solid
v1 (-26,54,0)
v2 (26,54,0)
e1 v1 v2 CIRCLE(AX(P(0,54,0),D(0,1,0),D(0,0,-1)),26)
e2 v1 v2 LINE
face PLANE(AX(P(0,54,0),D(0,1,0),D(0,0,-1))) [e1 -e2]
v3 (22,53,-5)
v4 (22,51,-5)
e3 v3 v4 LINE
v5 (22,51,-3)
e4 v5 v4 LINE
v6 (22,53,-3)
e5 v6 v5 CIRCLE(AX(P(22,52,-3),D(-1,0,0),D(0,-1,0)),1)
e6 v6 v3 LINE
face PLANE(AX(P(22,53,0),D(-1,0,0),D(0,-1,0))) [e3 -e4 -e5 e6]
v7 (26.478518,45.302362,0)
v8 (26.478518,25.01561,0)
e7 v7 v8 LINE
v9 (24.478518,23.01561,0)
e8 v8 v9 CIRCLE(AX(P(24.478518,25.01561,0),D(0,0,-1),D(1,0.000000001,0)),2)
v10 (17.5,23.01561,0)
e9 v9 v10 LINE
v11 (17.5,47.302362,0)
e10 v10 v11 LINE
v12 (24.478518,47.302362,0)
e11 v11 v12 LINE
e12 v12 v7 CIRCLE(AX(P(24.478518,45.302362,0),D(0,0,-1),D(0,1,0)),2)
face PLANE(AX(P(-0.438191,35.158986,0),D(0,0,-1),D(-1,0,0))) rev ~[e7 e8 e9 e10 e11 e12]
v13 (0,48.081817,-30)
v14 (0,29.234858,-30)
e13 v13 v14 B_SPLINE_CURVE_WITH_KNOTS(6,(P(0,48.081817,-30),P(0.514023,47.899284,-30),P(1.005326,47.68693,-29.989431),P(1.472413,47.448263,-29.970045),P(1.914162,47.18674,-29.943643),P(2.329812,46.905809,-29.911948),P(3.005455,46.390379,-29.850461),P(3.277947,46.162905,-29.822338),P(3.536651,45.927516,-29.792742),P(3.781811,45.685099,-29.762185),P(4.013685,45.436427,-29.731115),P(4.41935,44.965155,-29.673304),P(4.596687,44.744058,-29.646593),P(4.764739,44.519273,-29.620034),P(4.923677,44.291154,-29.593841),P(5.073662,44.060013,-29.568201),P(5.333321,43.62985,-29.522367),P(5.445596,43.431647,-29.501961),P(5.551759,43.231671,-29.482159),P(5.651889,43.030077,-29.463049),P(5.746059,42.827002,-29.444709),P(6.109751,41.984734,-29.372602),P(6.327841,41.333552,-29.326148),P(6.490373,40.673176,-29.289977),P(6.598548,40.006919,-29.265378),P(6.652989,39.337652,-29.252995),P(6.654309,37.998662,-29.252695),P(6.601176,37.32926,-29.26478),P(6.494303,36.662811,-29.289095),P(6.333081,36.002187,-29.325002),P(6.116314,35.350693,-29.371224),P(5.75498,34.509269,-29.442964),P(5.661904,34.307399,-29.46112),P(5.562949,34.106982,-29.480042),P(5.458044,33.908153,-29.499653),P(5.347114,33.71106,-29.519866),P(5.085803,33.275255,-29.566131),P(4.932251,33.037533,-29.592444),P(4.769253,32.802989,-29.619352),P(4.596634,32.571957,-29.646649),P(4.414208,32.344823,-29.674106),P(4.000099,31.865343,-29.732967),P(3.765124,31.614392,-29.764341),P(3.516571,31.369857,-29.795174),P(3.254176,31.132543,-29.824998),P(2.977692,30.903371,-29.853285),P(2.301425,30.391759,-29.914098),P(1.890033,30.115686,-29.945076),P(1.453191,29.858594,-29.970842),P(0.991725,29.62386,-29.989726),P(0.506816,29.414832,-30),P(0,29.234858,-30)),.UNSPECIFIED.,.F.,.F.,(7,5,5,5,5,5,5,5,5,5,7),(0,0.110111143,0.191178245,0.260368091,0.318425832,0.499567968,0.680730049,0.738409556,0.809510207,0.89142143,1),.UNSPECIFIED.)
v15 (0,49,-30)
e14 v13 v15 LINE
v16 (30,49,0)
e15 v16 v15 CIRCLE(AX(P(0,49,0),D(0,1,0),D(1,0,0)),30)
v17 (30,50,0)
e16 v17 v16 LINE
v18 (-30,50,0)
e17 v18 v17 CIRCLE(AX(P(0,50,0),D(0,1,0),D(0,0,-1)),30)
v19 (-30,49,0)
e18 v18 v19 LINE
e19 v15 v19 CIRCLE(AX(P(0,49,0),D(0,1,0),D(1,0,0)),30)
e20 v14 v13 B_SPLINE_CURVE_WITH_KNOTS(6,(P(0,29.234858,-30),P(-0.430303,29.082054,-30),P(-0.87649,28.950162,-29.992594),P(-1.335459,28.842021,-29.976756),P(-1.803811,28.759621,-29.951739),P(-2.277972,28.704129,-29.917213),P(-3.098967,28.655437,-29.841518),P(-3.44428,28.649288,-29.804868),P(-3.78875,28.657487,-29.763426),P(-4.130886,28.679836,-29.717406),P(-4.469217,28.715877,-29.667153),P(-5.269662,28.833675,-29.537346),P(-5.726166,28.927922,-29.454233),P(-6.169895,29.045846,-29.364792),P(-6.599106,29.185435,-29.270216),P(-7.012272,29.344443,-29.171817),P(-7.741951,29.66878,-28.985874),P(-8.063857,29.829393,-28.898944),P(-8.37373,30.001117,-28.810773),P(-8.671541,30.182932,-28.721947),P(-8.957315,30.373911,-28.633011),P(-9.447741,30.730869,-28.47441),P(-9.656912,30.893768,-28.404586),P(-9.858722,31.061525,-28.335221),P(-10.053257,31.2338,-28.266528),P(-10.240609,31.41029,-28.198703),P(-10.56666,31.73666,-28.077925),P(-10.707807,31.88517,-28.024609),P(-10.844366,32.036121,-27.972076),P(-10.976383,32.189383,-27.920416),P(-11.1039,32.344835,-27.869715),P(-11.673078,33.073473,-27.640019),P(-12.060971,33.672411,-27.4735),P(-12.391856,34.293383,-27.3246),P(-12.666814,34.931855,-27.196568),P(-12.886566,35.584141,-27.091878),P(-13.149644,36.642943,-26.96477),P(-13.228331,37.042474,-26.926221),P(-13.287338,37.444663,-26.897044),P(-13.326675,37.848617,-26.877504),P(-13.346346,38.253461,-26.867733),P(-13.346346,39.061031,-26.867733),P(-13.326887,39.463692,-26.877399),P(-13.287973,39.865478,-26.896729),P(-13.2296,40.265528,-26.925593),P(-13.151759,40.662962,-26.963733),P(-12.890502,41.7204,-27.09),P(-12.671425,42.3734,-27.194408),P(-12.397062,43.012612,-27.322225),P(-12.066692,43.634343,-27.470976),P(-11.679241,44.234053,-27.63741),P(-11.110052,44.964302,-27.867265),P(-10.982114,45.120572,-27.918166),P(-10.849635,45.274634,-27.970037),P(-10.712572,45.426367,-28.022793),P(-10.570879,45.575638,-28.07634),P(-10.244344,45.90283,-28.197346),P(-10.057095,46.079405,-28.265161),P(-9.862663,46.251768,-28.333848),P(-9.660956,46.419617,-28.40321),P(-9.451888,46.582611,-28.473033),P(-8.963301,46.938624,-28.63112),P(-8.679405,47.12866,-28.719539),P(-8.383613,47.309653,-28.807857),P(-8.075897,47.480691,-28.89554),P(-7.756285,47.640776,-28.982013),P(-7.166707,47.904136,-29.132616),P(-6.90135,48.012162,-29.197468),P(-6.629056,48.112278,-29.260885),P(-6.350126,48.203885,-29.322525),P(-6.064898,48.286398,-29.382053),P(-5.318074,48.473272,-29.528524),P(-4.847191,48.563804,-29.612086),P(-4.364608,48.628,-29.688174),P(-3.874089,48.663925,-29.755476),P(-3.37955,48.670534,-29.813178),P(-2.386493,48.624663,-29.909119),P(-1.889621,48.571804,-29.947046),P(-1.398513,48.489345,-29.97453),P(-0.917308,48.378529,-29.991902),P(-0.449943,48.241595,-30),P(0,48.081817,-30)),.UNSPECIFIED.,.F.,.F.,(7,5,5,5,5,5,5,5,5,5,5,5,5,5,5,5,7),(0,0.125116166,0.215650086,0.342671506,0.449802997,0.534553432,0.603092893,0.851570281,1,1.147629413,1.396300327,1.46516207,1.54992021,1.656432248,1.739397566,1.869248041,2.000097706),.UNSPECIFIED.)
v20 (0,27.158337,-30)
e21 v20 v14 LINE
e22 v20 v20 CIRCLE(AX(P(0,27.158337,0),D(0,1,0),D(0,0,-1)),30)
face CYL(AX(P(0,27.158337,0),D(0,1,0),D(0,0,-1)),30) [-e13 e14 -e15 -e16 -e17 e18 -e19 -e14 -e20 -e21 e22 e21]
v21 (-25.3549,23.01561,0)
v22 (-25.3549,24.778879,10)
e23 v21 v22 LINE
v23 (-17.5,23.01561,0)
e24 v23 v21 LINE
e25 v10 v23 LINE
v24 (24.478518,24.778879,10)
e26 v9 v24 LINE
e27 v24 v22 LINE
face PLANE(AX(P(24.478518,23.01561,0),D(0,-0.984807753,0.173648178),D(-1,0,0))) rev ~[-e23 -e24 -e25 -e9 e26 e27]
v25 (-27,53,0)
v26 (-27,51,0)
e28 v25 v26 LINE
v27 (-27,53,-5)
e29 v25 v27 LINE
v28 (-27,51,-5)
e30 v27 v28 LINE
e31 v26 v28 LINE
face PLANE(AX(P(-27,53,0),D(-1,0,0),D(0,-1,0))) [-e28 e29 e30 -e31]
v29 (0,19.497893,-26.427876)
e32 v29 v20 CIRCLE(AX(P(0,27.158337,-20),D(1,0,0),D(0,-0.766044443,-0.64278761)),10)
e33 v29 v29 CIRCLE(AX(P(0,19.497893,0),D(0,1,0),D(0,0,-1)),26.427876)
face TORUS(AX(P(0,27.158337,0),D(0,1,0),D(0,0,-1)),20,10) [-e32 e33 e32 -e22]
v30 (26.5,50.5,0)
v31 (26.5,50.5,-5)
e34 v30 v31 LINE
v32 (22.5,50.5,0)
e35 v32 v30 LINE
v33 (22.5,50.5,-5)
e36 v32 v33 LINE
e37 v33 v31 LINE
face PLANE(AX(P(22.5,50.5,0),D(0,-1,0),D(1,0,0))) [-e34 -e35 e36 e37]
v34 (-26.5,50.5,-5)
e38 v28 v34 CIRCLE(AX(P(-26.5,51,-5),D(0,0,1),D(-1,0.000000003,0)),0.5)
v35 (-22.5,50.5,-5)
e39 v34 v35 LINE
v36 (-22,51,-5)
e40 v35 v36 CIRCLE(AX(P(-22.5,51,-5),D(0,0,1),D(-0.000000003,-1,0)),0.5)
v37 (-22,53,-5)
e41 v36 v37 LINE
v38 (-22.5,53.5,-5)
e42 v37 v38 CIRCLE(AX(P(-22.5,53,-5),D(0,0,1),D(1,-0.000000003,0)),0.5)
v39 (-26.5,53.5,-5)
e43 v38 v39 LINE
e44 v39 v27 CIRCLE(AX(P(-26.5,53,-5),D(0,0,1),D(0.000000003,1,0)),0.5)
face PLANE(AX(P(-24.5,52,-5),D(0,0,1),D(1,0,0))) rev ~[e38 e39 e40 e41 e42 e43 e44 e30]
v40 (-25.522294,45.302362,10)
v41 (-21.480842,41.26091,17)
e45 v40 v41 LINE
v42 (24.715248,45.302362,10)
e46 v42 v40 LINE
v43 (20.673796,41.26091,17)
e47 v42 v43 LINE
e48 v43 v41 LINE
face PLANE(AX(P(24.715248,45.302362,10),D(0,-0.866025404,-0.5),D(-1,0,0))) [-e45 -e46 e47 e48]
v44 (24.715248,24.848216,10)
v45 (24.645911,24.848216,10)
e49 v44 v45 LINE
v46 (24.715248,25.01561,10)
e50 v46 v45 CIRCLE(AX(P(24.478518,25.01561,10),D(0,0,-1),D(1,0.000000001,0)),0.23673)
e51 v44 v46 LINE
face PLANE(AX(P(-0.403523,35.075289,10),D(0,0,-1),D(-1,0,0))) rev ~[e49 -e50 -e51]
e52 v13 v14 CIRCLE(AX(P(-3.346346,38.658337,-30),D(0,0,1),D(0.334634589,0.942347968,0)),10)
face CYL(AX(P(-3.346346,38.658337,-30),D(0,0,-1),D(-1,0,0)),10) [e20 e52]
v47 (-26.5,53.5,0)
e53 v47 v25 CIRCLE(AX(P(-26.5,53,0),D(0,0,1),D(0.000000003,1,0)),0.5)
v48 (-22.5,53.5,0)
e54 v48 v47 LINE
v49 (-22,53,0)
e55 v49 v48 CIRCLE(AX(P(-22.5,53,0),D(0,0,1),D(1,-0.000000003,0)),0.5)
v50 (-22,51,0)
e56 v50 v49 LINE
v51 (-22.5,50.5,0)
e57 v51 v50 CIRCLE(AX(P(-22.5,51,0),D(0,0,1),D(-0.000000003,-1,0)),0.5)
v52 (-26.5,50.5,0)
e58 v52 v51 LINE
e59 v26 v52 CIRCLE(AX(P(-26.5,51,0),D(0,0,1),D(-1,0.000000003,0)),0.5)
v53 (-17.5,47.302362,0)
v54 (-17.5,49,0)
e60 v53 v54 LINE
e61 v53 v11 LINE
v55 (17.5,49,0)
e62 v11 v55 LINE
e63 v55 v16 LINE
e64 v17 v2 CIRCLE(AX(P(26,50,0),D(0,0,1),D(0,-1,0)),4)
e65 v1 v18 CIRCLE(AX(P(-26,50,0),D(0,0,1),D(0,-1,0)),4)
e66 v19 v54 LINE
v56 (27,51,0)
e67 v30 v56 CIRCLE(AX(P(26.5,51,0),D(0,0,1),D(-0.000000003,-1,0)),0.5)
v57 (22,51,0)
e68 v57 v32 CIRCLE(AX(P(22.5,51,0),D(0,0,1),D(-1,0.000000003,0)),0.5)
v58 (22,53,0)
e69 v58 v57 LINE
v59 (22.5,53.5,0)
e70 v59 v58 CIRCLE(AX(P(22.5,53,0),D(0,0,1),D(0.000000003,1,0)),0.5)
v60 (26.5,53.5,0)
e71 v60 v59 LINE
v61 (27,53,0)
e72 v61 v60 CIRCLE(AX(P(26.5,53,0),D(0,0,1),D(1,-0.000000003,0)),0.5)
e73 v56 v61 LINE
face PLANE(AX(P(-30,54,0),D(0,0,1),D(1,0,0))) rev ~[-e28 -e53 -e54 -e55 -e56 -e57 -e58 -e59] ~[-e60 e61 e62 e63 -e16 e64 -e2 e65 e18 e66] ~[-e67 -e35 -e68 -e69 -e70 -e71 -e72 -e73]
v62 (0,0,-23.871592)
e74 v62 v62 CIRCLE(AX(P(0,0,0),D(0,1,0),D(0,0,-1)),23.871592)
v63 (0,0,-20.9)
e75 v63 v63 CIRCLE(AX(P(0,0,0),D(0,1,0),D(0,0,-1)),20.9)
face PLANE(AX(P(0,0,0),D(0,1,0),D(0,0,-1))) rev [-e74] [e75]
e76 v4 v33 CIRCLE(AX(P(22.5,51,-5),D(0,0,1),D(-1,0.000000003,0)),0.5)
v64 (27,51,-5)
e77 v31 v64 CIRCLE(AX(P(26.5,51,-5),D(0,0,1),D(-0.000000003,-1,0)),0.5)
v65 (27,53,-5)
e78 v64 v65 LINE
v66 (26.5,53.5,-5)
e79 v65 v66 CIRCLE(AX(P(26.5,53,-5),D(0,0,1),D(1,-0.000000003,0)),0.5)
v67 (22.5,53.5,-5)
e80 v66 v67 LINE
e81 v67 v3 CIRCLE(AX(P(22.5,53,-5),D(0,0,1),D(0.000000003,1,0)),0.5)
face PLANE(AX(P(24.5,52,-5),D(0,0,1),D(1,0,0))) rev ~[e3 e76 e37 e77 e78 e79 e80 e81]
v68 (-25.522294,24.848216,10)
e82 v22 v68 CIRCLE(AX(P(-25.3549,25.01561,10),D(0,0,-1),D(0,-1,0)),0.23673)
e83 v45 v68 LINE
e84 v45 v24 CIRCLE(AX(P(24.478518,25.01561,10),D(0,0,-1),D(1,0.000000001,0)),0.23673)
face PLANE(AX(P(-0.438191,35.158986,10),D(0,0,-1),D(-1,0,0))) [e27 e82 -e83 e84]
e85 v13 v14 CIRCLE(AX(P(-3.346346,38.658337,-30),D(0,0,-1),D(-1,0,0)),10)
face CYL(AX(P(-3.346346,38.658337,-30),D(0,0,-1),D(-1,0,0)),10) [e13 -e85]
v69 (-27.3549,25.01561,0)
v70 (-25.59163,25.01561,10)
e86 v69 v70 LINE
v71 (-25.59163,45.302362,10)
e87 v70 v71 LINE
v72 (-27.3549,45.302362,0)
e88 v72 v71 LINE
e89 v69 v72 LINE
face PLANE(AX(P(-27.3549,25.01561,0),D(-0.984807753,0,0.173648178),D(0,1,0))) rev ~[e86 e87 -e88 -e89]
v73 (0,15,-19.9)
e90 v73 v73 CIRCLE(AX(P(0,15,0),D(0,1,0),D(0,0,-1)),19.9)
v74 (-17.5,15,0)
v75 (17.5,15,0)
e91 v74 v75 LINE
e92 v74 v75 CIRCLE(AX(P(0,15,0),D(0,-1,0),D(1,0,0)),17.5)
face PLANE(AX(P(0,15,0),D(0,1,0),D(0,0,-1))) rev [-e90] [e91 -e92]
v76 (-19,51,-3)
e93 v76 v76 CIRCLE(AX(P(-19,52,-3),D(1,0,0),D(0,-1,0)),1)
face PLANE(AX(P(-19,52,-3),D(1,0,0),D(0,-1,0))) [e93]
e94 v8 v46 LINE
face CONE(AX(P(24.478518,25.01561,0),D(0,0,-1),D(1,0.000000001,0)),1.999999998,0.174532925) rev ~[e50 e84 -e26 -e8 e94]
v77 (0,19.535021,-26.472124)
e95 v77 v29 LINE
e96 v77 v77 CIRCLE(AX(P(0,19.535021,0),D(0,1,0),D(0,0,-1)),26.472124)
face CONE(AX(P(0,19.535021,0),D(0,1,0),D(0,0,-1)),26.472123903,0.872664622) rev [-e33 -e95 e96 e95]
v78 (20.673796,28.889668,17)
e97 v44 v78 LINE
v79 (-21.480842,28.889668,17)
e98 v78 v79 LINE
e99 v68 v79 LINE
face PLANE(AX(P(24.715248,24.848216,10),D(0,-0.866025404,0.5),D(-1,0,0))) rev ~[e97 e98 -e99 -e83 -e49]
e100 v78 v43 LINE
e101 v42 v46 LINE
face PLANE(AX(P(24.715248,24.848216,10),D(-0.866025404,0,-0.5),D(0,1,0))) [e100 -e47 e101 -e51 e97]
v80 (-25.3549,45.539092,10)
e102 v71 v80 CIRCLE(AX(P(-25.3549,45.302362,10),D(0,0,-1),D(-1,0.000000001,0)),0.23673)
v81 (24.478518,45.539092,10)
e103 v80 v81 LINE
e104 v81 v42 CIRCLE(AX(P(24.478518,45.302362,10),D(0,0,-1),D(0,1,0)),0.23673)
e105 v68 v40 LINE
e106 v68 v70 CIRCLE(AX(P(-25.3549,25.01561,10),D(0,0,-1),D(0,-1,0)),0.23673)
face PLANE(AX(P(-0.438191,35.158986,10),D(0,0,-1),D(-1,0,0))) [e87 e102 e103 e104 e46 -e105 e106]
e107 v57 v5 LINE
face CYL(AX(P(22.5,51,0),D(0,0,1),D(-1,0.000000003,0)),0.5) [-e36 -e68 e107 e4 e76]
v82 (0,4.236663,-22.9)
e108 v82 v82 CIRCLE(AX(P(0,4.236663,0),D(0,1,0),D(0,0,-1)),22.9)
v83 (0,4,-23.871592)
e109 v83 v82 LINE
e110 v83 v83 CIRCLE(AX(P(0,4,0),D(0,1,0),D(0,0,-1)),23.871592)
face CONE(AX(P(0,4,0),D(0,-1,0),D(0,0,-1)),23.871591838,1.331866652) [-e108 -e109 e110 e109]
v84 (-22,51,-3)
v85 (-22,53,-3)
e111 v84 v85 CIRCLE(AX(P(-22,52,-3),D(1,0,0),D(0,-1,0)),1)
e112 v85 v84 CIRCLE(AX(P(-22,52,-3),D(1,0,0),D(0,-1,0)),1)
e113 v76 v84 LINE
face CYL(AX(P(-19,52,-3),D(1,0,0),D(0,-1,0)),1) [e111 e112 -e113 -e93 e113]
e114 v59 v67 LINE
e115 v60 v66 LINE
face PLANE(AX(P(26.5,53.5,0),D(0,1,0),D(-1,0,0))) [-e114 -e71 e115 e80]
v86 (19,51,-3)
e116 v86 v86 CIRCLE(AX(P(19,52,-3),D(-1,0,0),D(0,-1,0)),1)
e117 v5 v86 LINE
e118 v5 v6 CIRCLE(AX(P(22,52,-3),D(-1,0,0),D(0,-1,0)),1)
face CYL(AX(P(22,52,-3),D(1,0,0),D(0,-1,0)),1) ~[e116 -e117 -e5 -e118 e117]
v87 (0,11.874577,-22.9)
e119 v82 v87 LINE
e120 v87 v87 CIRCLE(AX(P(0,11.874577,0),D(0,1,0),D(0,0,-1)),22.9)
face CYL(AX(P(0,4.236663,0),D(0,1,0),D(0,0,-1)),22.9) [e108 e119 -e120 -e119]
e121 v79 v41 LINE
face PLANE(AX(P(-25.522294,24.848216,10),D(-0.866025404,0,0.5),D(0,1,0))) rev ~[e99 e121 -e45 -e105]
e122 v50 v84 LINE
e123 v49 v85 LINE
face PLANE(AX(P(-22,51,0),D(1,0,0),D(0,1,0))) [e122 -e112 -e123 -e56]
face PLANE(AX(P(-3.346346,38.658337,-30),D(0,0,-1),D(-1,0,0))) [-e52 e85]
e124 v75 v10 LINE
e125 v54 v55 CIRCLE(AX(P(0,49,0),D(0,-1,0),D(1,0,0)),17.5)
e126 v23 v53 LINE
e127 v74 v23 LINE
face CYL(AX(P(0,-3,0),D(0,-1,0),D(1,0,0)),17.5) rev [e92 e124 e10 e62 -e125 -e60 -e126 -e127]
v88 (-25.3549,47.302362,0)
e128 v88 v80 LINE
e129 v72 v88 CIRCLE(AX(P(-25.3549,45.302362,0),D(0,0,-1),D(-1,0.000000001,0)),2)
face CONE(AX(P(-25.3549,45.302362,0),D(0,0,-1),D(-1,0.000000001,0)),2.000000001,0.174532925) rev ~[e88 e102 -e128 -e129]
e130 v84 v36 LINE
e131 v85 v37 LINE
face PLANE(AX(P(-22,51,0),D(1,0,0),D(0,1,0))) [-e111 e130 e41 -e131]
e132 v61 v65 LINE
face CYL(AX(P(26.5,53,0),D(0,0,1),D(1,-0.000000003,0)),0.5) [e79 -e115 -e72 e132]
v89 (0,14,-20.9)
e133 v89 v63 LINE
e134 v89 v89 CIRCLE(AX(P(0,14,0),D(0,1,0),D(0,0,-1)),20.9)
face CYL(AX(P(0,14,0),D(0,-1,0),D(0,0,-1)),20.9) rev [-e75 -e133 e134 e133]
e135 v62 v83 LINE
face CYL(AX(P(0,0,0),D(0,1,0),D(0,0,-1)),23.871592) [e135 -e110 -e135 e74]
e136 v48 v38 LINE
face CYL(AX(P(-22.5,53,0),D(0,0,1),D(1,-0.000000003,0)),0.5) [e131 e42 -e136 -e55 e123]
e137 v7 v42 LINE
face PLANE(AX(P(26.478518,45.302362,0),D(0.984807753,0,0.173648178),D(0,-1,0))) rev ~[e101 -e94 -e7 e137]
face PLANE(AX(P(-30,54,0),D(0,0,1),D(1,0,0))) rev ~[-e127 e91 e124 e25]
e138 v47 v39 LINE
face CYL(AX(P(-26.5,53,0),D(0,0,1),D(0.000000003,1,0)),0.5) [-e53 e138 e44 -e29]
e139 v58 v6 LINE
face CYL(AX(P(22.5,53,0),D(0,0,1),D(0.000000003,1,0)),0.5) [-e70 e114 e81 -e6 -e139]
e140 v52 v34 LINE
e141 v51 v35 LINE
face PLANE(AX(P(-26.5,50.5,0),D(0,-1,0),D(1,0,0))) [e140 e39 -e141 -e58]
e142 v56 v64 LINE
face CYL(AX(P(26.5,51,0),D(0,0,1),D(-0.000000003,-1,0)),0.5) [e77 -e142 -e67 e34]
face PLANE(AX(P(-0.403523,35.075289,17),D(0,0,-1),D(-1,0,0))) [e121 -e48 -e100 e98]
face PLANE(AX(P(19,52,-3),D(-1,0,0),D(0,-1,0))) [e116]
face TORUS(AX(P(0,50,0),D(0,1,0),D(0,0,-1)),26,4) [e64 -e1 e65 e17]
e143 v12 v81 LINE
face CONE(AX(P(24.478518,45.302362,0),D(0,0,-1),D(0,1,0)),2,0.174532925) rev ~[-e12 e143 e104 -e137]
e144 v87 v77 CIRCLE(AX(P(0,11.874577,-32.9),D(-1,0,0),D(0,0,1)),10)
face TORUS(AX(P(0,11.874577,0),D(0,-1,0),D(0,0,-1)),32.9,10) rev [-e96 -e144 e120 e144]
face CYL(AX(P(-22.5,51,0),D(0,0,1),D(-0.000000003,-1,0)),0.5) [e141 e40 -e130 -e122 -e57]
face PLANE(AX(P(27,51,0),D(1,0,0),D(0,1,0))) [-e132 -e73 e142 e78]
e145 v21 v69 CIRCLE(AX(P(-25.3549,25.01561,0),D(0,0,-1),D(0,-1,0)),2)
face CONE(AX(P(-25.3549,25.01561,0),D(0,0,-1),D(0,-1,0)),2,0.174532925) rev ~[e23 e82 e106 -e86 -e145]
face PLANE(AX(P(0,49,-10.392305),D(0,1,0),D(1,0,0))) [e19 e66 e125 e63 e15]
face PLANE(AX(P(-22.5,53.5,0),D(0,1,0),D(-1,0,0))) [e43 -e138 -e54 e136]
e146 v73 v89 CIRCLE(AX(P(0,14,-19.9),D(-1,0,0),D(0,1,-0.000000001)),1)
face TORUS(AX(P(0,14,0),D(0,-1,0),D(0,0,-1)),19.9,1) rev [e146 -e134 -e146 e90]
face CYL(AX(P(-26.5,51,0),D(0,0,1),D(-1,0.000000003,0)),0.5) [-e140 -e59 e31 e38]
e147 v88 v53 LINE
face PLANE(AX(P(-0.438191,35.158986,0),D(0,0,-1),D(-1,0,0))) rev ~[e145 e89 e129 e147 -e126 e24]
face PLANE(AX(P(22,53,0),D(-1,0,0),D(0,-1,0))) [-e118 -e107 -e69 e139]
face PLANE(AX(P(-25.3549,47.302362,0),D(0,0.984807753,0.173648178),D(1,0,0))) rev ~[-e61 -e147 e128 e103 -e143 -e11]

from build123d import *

# Parameters (mm, degrees)
SKETCH10_R              = 10
BOSS_EXTRUDE1_DEPTH     = 5
CUT_EXTRUDE3_DEPTH      = 45
CUT_EXTRUDE3_DEPTH_BACK = 20
CUT_EXTRUDE5_DEPTH      = 5
BOSS_EXTRUDE2_DEPTH     = 5
SKETCH14_R              = 1
BOSS_EXTRUDE3_DEPTH     = 3
BOSS_EXTRUDE4_START     = 3
SKETCH15_R              = 1
BOSS_EXTRUDE4_DEPTH     = 3
CUT_EXTRUDE6_DEPTH      = 10
CUT_EXTRUDE6_DRAFT      = -10
SKETCH18_W              = 50.237541655
SKETCH18_H              = 20.454146011
CUT_EXTRUDE7_DEPTH      = 7
CUT_EXTRUDE7_DRAFT      = -30


with BuildPart() as part:
    # Sketch1 → Revolve1 (revolve)
    with BuildSketch(Plane.XY, mode=Mode.PRIVATE) as revolve1_sk:
        with BuildLine():
            Line((20.9, 0), (23.871591838, 0))
            Line((23.871591838, 0), (23.871591838, 4))
            Line((23.871591838, 4), (22.9, 4.236662843))
            Line((22.9, 4.236662843), (22.9, 11.874576818))
            ThreePointArc((22.9, 11.874576818), (23.83692213, 16.100759435), (26.472123903, 19.535021249))
            Line((26.472123903, 19.535021249), (26.427876097, 19.497892931))
            ThreePointArc((26.427876097, 19.497892931), (29.06307787, 22.932154745), (30, 27.158337362))
            Line((30, 27.158337362), (30, 50))
            ThreePointArc((30, 50), (28.828427125, 52.828427125), (26, 54))
            Line((26, 54), (0, 54))
            Line((0, 54), (0, 15))
            Line((0, 15), (19.9, 15))
            ThreePointArc((19.9, 15), (20.607106781, 14.707106781), (20.9, 14))
            Line((20.9, 14), (20.9, 0))
        make_face()
    revolve(revolve1_sk.sketch.rotate(Axis((0, 0, 0), (0, 1, 0)), 90), axis=Axis((0, 0, 0), (0, 1, 0)))

    # Sketch10 → Boss-Extrude1 (add)
    with BuildSketch(Plane(origin=(0, 0, -30), x_dir=(-1, 0, 0), z_dir=(0, 0, -1))):
        with Locations((3.346345887, 38.658337362)):
            Circle(SKETCH10_R)
    extrude(amount=-BOSS_EXTRUDE1_DEPTH)

    # Sketch11 → Cut-Extrude3 (cut, two sides: drawn at the far end of the back side and taken through both)
    with BuildSketch(Plane(origin=(0, 17, 0), x_dir=(1, 0, 0), z_dir=(0, 1, 0)).offset(-CUT_EXTRUDE3_DEPTH_BACK)):
        with BuildLine():
            Line((-17.5, 0), (17.5, 0))
            ThreePointArc((17.5, 0), (0, 17.5), (-17.5, 0))
        make_face()
    extrude(amount=CUT_EXTRUDE3_DEPTH + CUT_EXTRUDE3_DEPTH_BACK, mode=Mode.SUBTRACT)

    # Sketch9 → Cut-Extrude5 (cut)
    with BuildSketch(Plane(origin=(0, 54, 0), x_dir=(1, 0, 0), z_dir=(0, 1, 0))):
        with BuildLine():
            Line((-30, 0), (30, 0))
            ThreePointArc((30, 0), (0, 30), (-30, 0))
        make_face()
    extrude(amount=-CUT_EXTRUDE5_DEPTH, mode=Mode.SUBTRACT)

    # Sketch13 → Boss-Extrude2 (add)
    with BuildSketch(Plane(origin=(0, 0, 0), x_dir=(-1, 0, 0), z_dir=(0, 0, -1))):
        with BuildLine():
            Line((22.5, 53.5), (26.5, 53.5))
            ThreePointArc((26.5, 53.5), (26.853553391, 53.353553391), (27, 53))
            Line((27, 53), (27, 51))
            ThreePointArc((27, 51), (26.853553391, 50.646446609), (26.5, 50.5))
            Line((26.5, 50.5), (22.5, 50.5))
            ThreePointArc((22.5, 50.5), (22.146446609, 50.646446609), (22, 51))
            Line((22, 51), (22, 53))
            ThreePointArc((22, 53), (22.146446609, 53.353553391), (22.5, 53.5))
        make_face()
        with BuildLine():
            Line((-26.5, 53.5), (-22.5, 53.5))
            ThreePointArc((-22.5, 53.5), (-22.146446609, 53.353553391), (-22, 53))
            Line((-22, 53), (-22, 51))
            ThreePointArc((-22, 51), (-22.146446609, 50.646446609), (-22.5, 50.5))
            Line((-22.5, 50.5), (-26.5, 50.5))
            ThreePointArc((-26.5, 50.5), (-26.853553391, 50.646446609), (-27, 51))
            Line((-27, 51), (-27, 53))
            ThreePointArc((-27, 53), (-26.853553391, 53.353553391), (-26.5, 53.5))
        make_face()
    extrude(amount=BOSS_EXTRUDE2_DEPTH)

    # Sketch14 → Boss-Extrude3 (add)
    with BuildSketch(Plane.ZY.offset(-22)):
        with Locations(Location((-3, 52, 0), (0, 0, 270))):
            Circle(SKETCH14_R)
    extrude(amount=BOSS_EXTRUDE3_DEPTH)

    # Sketch15 → Boss-Extrude4 (add)
    with BuildSketch(Plane(origin=(-22, 0, 0), x_dir=(0, 0, -1), z_dir=(1, 0, 0)).offset(BOSS_EXTRUDE4_START)):
        with Locations(Location((3, 52, 0), (0, 0, 270))):
            Circle(SKETCH15_R)
    extrude(amount=-BOSS_EXTRUDE4_DEPTH)


with BuildPart() as cut_extrude6_tool:
    # Sketch17 → Cut-Extrude6 (with draft: the straight prism first)
    with BuildSketch(Plane(origin=(0, 0, 0), x_dir=(-1, 0, 0), z_dir=(0, 0, -1))):
        with BuildLine():
            ThreePointArc((-24.47851765, 47.302362136), (-25.892731213, 46.716575698), (-26.47851765, 45.302362136))
            Line((-26.47851765, 45.302362136), (-26.47851765, 25.01560965))
            ThreePointArc((-26.47851765, 25.01560965), (-25.892731213, 23.601396087), (-24.47851765, 23.01560965))
            Line((-24.47851765, 23.01560965), (25.354900287, 23.01560965))
            ThreePointArc((25.354900287, 23.01560965), (26.769113849, 23.601396087), (27.354900287, 25.01560965))
            Line((27.354900287, 25.01560965), (27.354900287, 45.302362136))
            ThreePointArc((27.354900287, 45.302362136), (26.769113849, 46.716575698), (25.354900287, 47.302362136))
            Line((25.354900287, 47.302362136), (-24.47851765, 47.302362136))
        make_face()
    extrude(amount=-CUT_EXTRUDE6_DEPTH)
    # Cut-Extrude6: the draft: its side faces are tilted about the plane it starts from
    cut_extrude6_sides = [cut_extrude6_tool.faces().sort_by_distance(p)[0] for p in [
        (25.892731213, 46.716575698, 5),
        (26.47851765, 35.158985893, 5),
        (25.892731213, 23.601396087, 5),
        (-0.438191318, 23.01560965, 5),
        (-26.769113849, 23.601396087, 5),
        (-27.354900287, 35.158985893, 5),
        (-26.769113849, 46.716575698, 5),
        (-0.438191318, 47.302362136, 5),
    ]]
    draft(cut_extrude6_sides, Plane(origin=(0, 0, 0), x_dir=(-1, 0, 0), z_dir=(0, 0, -1)), CUT_EXTRUDE6_DRAFT)


with BuildPart() as part_1:
    add(part.part)

    # Cut-Extrude6: cut by cut_extrude6_tool
    add(cut_extrude6_tool.part, mode=Mode.SUBTRACT)


with BuildPart() as cut_extrude7_tool:
    # Sketch18 → Cut-Extrude7 (with draft: the straight prism first)
    with BuildSketch(Plane(origin=(0, 0, 10), x_dir=(-1, 0, 0), z_dir=(0, 0, -1))):
        with Locations((0.403522985, 35.07528913)):
            Rectangle(SKETCH18_W, SKETCH18_H)
    extrude(amount=-CUT_EXTRUDE7_DEPTH)
    # Cut-Extrude7: the draft: its side faces are tilted about the plane it starts from
    cut_extrude7_sides = [cut_extrude7_tool.faces().sort_by_distance(p)[0] for p in [
        (24.715247843, 35.07528913, 13.5),
        (-0.403522984, 24.848216125, 13.5),
        (-25.522293812, 35.07528913, 13.5),
        (-0.403522984, 45.302362136, 13.5),
    ]]
    draft(cut_extrude7_sides, Plane(origin=(0, 0, 10), x_dir=(-1, 0, 0), z_dir=(0, 0, -1)), CUT_EXTRUDE7_DRAFT)


with BuildPart() as part_2:
    add(part_1.part)

    # Cut-Extrude7: cut by cut_extrude7_tool
    add(cut_extrude7_tool.part, mode=Mode.SUBTRACT)


solid = part_2.part
